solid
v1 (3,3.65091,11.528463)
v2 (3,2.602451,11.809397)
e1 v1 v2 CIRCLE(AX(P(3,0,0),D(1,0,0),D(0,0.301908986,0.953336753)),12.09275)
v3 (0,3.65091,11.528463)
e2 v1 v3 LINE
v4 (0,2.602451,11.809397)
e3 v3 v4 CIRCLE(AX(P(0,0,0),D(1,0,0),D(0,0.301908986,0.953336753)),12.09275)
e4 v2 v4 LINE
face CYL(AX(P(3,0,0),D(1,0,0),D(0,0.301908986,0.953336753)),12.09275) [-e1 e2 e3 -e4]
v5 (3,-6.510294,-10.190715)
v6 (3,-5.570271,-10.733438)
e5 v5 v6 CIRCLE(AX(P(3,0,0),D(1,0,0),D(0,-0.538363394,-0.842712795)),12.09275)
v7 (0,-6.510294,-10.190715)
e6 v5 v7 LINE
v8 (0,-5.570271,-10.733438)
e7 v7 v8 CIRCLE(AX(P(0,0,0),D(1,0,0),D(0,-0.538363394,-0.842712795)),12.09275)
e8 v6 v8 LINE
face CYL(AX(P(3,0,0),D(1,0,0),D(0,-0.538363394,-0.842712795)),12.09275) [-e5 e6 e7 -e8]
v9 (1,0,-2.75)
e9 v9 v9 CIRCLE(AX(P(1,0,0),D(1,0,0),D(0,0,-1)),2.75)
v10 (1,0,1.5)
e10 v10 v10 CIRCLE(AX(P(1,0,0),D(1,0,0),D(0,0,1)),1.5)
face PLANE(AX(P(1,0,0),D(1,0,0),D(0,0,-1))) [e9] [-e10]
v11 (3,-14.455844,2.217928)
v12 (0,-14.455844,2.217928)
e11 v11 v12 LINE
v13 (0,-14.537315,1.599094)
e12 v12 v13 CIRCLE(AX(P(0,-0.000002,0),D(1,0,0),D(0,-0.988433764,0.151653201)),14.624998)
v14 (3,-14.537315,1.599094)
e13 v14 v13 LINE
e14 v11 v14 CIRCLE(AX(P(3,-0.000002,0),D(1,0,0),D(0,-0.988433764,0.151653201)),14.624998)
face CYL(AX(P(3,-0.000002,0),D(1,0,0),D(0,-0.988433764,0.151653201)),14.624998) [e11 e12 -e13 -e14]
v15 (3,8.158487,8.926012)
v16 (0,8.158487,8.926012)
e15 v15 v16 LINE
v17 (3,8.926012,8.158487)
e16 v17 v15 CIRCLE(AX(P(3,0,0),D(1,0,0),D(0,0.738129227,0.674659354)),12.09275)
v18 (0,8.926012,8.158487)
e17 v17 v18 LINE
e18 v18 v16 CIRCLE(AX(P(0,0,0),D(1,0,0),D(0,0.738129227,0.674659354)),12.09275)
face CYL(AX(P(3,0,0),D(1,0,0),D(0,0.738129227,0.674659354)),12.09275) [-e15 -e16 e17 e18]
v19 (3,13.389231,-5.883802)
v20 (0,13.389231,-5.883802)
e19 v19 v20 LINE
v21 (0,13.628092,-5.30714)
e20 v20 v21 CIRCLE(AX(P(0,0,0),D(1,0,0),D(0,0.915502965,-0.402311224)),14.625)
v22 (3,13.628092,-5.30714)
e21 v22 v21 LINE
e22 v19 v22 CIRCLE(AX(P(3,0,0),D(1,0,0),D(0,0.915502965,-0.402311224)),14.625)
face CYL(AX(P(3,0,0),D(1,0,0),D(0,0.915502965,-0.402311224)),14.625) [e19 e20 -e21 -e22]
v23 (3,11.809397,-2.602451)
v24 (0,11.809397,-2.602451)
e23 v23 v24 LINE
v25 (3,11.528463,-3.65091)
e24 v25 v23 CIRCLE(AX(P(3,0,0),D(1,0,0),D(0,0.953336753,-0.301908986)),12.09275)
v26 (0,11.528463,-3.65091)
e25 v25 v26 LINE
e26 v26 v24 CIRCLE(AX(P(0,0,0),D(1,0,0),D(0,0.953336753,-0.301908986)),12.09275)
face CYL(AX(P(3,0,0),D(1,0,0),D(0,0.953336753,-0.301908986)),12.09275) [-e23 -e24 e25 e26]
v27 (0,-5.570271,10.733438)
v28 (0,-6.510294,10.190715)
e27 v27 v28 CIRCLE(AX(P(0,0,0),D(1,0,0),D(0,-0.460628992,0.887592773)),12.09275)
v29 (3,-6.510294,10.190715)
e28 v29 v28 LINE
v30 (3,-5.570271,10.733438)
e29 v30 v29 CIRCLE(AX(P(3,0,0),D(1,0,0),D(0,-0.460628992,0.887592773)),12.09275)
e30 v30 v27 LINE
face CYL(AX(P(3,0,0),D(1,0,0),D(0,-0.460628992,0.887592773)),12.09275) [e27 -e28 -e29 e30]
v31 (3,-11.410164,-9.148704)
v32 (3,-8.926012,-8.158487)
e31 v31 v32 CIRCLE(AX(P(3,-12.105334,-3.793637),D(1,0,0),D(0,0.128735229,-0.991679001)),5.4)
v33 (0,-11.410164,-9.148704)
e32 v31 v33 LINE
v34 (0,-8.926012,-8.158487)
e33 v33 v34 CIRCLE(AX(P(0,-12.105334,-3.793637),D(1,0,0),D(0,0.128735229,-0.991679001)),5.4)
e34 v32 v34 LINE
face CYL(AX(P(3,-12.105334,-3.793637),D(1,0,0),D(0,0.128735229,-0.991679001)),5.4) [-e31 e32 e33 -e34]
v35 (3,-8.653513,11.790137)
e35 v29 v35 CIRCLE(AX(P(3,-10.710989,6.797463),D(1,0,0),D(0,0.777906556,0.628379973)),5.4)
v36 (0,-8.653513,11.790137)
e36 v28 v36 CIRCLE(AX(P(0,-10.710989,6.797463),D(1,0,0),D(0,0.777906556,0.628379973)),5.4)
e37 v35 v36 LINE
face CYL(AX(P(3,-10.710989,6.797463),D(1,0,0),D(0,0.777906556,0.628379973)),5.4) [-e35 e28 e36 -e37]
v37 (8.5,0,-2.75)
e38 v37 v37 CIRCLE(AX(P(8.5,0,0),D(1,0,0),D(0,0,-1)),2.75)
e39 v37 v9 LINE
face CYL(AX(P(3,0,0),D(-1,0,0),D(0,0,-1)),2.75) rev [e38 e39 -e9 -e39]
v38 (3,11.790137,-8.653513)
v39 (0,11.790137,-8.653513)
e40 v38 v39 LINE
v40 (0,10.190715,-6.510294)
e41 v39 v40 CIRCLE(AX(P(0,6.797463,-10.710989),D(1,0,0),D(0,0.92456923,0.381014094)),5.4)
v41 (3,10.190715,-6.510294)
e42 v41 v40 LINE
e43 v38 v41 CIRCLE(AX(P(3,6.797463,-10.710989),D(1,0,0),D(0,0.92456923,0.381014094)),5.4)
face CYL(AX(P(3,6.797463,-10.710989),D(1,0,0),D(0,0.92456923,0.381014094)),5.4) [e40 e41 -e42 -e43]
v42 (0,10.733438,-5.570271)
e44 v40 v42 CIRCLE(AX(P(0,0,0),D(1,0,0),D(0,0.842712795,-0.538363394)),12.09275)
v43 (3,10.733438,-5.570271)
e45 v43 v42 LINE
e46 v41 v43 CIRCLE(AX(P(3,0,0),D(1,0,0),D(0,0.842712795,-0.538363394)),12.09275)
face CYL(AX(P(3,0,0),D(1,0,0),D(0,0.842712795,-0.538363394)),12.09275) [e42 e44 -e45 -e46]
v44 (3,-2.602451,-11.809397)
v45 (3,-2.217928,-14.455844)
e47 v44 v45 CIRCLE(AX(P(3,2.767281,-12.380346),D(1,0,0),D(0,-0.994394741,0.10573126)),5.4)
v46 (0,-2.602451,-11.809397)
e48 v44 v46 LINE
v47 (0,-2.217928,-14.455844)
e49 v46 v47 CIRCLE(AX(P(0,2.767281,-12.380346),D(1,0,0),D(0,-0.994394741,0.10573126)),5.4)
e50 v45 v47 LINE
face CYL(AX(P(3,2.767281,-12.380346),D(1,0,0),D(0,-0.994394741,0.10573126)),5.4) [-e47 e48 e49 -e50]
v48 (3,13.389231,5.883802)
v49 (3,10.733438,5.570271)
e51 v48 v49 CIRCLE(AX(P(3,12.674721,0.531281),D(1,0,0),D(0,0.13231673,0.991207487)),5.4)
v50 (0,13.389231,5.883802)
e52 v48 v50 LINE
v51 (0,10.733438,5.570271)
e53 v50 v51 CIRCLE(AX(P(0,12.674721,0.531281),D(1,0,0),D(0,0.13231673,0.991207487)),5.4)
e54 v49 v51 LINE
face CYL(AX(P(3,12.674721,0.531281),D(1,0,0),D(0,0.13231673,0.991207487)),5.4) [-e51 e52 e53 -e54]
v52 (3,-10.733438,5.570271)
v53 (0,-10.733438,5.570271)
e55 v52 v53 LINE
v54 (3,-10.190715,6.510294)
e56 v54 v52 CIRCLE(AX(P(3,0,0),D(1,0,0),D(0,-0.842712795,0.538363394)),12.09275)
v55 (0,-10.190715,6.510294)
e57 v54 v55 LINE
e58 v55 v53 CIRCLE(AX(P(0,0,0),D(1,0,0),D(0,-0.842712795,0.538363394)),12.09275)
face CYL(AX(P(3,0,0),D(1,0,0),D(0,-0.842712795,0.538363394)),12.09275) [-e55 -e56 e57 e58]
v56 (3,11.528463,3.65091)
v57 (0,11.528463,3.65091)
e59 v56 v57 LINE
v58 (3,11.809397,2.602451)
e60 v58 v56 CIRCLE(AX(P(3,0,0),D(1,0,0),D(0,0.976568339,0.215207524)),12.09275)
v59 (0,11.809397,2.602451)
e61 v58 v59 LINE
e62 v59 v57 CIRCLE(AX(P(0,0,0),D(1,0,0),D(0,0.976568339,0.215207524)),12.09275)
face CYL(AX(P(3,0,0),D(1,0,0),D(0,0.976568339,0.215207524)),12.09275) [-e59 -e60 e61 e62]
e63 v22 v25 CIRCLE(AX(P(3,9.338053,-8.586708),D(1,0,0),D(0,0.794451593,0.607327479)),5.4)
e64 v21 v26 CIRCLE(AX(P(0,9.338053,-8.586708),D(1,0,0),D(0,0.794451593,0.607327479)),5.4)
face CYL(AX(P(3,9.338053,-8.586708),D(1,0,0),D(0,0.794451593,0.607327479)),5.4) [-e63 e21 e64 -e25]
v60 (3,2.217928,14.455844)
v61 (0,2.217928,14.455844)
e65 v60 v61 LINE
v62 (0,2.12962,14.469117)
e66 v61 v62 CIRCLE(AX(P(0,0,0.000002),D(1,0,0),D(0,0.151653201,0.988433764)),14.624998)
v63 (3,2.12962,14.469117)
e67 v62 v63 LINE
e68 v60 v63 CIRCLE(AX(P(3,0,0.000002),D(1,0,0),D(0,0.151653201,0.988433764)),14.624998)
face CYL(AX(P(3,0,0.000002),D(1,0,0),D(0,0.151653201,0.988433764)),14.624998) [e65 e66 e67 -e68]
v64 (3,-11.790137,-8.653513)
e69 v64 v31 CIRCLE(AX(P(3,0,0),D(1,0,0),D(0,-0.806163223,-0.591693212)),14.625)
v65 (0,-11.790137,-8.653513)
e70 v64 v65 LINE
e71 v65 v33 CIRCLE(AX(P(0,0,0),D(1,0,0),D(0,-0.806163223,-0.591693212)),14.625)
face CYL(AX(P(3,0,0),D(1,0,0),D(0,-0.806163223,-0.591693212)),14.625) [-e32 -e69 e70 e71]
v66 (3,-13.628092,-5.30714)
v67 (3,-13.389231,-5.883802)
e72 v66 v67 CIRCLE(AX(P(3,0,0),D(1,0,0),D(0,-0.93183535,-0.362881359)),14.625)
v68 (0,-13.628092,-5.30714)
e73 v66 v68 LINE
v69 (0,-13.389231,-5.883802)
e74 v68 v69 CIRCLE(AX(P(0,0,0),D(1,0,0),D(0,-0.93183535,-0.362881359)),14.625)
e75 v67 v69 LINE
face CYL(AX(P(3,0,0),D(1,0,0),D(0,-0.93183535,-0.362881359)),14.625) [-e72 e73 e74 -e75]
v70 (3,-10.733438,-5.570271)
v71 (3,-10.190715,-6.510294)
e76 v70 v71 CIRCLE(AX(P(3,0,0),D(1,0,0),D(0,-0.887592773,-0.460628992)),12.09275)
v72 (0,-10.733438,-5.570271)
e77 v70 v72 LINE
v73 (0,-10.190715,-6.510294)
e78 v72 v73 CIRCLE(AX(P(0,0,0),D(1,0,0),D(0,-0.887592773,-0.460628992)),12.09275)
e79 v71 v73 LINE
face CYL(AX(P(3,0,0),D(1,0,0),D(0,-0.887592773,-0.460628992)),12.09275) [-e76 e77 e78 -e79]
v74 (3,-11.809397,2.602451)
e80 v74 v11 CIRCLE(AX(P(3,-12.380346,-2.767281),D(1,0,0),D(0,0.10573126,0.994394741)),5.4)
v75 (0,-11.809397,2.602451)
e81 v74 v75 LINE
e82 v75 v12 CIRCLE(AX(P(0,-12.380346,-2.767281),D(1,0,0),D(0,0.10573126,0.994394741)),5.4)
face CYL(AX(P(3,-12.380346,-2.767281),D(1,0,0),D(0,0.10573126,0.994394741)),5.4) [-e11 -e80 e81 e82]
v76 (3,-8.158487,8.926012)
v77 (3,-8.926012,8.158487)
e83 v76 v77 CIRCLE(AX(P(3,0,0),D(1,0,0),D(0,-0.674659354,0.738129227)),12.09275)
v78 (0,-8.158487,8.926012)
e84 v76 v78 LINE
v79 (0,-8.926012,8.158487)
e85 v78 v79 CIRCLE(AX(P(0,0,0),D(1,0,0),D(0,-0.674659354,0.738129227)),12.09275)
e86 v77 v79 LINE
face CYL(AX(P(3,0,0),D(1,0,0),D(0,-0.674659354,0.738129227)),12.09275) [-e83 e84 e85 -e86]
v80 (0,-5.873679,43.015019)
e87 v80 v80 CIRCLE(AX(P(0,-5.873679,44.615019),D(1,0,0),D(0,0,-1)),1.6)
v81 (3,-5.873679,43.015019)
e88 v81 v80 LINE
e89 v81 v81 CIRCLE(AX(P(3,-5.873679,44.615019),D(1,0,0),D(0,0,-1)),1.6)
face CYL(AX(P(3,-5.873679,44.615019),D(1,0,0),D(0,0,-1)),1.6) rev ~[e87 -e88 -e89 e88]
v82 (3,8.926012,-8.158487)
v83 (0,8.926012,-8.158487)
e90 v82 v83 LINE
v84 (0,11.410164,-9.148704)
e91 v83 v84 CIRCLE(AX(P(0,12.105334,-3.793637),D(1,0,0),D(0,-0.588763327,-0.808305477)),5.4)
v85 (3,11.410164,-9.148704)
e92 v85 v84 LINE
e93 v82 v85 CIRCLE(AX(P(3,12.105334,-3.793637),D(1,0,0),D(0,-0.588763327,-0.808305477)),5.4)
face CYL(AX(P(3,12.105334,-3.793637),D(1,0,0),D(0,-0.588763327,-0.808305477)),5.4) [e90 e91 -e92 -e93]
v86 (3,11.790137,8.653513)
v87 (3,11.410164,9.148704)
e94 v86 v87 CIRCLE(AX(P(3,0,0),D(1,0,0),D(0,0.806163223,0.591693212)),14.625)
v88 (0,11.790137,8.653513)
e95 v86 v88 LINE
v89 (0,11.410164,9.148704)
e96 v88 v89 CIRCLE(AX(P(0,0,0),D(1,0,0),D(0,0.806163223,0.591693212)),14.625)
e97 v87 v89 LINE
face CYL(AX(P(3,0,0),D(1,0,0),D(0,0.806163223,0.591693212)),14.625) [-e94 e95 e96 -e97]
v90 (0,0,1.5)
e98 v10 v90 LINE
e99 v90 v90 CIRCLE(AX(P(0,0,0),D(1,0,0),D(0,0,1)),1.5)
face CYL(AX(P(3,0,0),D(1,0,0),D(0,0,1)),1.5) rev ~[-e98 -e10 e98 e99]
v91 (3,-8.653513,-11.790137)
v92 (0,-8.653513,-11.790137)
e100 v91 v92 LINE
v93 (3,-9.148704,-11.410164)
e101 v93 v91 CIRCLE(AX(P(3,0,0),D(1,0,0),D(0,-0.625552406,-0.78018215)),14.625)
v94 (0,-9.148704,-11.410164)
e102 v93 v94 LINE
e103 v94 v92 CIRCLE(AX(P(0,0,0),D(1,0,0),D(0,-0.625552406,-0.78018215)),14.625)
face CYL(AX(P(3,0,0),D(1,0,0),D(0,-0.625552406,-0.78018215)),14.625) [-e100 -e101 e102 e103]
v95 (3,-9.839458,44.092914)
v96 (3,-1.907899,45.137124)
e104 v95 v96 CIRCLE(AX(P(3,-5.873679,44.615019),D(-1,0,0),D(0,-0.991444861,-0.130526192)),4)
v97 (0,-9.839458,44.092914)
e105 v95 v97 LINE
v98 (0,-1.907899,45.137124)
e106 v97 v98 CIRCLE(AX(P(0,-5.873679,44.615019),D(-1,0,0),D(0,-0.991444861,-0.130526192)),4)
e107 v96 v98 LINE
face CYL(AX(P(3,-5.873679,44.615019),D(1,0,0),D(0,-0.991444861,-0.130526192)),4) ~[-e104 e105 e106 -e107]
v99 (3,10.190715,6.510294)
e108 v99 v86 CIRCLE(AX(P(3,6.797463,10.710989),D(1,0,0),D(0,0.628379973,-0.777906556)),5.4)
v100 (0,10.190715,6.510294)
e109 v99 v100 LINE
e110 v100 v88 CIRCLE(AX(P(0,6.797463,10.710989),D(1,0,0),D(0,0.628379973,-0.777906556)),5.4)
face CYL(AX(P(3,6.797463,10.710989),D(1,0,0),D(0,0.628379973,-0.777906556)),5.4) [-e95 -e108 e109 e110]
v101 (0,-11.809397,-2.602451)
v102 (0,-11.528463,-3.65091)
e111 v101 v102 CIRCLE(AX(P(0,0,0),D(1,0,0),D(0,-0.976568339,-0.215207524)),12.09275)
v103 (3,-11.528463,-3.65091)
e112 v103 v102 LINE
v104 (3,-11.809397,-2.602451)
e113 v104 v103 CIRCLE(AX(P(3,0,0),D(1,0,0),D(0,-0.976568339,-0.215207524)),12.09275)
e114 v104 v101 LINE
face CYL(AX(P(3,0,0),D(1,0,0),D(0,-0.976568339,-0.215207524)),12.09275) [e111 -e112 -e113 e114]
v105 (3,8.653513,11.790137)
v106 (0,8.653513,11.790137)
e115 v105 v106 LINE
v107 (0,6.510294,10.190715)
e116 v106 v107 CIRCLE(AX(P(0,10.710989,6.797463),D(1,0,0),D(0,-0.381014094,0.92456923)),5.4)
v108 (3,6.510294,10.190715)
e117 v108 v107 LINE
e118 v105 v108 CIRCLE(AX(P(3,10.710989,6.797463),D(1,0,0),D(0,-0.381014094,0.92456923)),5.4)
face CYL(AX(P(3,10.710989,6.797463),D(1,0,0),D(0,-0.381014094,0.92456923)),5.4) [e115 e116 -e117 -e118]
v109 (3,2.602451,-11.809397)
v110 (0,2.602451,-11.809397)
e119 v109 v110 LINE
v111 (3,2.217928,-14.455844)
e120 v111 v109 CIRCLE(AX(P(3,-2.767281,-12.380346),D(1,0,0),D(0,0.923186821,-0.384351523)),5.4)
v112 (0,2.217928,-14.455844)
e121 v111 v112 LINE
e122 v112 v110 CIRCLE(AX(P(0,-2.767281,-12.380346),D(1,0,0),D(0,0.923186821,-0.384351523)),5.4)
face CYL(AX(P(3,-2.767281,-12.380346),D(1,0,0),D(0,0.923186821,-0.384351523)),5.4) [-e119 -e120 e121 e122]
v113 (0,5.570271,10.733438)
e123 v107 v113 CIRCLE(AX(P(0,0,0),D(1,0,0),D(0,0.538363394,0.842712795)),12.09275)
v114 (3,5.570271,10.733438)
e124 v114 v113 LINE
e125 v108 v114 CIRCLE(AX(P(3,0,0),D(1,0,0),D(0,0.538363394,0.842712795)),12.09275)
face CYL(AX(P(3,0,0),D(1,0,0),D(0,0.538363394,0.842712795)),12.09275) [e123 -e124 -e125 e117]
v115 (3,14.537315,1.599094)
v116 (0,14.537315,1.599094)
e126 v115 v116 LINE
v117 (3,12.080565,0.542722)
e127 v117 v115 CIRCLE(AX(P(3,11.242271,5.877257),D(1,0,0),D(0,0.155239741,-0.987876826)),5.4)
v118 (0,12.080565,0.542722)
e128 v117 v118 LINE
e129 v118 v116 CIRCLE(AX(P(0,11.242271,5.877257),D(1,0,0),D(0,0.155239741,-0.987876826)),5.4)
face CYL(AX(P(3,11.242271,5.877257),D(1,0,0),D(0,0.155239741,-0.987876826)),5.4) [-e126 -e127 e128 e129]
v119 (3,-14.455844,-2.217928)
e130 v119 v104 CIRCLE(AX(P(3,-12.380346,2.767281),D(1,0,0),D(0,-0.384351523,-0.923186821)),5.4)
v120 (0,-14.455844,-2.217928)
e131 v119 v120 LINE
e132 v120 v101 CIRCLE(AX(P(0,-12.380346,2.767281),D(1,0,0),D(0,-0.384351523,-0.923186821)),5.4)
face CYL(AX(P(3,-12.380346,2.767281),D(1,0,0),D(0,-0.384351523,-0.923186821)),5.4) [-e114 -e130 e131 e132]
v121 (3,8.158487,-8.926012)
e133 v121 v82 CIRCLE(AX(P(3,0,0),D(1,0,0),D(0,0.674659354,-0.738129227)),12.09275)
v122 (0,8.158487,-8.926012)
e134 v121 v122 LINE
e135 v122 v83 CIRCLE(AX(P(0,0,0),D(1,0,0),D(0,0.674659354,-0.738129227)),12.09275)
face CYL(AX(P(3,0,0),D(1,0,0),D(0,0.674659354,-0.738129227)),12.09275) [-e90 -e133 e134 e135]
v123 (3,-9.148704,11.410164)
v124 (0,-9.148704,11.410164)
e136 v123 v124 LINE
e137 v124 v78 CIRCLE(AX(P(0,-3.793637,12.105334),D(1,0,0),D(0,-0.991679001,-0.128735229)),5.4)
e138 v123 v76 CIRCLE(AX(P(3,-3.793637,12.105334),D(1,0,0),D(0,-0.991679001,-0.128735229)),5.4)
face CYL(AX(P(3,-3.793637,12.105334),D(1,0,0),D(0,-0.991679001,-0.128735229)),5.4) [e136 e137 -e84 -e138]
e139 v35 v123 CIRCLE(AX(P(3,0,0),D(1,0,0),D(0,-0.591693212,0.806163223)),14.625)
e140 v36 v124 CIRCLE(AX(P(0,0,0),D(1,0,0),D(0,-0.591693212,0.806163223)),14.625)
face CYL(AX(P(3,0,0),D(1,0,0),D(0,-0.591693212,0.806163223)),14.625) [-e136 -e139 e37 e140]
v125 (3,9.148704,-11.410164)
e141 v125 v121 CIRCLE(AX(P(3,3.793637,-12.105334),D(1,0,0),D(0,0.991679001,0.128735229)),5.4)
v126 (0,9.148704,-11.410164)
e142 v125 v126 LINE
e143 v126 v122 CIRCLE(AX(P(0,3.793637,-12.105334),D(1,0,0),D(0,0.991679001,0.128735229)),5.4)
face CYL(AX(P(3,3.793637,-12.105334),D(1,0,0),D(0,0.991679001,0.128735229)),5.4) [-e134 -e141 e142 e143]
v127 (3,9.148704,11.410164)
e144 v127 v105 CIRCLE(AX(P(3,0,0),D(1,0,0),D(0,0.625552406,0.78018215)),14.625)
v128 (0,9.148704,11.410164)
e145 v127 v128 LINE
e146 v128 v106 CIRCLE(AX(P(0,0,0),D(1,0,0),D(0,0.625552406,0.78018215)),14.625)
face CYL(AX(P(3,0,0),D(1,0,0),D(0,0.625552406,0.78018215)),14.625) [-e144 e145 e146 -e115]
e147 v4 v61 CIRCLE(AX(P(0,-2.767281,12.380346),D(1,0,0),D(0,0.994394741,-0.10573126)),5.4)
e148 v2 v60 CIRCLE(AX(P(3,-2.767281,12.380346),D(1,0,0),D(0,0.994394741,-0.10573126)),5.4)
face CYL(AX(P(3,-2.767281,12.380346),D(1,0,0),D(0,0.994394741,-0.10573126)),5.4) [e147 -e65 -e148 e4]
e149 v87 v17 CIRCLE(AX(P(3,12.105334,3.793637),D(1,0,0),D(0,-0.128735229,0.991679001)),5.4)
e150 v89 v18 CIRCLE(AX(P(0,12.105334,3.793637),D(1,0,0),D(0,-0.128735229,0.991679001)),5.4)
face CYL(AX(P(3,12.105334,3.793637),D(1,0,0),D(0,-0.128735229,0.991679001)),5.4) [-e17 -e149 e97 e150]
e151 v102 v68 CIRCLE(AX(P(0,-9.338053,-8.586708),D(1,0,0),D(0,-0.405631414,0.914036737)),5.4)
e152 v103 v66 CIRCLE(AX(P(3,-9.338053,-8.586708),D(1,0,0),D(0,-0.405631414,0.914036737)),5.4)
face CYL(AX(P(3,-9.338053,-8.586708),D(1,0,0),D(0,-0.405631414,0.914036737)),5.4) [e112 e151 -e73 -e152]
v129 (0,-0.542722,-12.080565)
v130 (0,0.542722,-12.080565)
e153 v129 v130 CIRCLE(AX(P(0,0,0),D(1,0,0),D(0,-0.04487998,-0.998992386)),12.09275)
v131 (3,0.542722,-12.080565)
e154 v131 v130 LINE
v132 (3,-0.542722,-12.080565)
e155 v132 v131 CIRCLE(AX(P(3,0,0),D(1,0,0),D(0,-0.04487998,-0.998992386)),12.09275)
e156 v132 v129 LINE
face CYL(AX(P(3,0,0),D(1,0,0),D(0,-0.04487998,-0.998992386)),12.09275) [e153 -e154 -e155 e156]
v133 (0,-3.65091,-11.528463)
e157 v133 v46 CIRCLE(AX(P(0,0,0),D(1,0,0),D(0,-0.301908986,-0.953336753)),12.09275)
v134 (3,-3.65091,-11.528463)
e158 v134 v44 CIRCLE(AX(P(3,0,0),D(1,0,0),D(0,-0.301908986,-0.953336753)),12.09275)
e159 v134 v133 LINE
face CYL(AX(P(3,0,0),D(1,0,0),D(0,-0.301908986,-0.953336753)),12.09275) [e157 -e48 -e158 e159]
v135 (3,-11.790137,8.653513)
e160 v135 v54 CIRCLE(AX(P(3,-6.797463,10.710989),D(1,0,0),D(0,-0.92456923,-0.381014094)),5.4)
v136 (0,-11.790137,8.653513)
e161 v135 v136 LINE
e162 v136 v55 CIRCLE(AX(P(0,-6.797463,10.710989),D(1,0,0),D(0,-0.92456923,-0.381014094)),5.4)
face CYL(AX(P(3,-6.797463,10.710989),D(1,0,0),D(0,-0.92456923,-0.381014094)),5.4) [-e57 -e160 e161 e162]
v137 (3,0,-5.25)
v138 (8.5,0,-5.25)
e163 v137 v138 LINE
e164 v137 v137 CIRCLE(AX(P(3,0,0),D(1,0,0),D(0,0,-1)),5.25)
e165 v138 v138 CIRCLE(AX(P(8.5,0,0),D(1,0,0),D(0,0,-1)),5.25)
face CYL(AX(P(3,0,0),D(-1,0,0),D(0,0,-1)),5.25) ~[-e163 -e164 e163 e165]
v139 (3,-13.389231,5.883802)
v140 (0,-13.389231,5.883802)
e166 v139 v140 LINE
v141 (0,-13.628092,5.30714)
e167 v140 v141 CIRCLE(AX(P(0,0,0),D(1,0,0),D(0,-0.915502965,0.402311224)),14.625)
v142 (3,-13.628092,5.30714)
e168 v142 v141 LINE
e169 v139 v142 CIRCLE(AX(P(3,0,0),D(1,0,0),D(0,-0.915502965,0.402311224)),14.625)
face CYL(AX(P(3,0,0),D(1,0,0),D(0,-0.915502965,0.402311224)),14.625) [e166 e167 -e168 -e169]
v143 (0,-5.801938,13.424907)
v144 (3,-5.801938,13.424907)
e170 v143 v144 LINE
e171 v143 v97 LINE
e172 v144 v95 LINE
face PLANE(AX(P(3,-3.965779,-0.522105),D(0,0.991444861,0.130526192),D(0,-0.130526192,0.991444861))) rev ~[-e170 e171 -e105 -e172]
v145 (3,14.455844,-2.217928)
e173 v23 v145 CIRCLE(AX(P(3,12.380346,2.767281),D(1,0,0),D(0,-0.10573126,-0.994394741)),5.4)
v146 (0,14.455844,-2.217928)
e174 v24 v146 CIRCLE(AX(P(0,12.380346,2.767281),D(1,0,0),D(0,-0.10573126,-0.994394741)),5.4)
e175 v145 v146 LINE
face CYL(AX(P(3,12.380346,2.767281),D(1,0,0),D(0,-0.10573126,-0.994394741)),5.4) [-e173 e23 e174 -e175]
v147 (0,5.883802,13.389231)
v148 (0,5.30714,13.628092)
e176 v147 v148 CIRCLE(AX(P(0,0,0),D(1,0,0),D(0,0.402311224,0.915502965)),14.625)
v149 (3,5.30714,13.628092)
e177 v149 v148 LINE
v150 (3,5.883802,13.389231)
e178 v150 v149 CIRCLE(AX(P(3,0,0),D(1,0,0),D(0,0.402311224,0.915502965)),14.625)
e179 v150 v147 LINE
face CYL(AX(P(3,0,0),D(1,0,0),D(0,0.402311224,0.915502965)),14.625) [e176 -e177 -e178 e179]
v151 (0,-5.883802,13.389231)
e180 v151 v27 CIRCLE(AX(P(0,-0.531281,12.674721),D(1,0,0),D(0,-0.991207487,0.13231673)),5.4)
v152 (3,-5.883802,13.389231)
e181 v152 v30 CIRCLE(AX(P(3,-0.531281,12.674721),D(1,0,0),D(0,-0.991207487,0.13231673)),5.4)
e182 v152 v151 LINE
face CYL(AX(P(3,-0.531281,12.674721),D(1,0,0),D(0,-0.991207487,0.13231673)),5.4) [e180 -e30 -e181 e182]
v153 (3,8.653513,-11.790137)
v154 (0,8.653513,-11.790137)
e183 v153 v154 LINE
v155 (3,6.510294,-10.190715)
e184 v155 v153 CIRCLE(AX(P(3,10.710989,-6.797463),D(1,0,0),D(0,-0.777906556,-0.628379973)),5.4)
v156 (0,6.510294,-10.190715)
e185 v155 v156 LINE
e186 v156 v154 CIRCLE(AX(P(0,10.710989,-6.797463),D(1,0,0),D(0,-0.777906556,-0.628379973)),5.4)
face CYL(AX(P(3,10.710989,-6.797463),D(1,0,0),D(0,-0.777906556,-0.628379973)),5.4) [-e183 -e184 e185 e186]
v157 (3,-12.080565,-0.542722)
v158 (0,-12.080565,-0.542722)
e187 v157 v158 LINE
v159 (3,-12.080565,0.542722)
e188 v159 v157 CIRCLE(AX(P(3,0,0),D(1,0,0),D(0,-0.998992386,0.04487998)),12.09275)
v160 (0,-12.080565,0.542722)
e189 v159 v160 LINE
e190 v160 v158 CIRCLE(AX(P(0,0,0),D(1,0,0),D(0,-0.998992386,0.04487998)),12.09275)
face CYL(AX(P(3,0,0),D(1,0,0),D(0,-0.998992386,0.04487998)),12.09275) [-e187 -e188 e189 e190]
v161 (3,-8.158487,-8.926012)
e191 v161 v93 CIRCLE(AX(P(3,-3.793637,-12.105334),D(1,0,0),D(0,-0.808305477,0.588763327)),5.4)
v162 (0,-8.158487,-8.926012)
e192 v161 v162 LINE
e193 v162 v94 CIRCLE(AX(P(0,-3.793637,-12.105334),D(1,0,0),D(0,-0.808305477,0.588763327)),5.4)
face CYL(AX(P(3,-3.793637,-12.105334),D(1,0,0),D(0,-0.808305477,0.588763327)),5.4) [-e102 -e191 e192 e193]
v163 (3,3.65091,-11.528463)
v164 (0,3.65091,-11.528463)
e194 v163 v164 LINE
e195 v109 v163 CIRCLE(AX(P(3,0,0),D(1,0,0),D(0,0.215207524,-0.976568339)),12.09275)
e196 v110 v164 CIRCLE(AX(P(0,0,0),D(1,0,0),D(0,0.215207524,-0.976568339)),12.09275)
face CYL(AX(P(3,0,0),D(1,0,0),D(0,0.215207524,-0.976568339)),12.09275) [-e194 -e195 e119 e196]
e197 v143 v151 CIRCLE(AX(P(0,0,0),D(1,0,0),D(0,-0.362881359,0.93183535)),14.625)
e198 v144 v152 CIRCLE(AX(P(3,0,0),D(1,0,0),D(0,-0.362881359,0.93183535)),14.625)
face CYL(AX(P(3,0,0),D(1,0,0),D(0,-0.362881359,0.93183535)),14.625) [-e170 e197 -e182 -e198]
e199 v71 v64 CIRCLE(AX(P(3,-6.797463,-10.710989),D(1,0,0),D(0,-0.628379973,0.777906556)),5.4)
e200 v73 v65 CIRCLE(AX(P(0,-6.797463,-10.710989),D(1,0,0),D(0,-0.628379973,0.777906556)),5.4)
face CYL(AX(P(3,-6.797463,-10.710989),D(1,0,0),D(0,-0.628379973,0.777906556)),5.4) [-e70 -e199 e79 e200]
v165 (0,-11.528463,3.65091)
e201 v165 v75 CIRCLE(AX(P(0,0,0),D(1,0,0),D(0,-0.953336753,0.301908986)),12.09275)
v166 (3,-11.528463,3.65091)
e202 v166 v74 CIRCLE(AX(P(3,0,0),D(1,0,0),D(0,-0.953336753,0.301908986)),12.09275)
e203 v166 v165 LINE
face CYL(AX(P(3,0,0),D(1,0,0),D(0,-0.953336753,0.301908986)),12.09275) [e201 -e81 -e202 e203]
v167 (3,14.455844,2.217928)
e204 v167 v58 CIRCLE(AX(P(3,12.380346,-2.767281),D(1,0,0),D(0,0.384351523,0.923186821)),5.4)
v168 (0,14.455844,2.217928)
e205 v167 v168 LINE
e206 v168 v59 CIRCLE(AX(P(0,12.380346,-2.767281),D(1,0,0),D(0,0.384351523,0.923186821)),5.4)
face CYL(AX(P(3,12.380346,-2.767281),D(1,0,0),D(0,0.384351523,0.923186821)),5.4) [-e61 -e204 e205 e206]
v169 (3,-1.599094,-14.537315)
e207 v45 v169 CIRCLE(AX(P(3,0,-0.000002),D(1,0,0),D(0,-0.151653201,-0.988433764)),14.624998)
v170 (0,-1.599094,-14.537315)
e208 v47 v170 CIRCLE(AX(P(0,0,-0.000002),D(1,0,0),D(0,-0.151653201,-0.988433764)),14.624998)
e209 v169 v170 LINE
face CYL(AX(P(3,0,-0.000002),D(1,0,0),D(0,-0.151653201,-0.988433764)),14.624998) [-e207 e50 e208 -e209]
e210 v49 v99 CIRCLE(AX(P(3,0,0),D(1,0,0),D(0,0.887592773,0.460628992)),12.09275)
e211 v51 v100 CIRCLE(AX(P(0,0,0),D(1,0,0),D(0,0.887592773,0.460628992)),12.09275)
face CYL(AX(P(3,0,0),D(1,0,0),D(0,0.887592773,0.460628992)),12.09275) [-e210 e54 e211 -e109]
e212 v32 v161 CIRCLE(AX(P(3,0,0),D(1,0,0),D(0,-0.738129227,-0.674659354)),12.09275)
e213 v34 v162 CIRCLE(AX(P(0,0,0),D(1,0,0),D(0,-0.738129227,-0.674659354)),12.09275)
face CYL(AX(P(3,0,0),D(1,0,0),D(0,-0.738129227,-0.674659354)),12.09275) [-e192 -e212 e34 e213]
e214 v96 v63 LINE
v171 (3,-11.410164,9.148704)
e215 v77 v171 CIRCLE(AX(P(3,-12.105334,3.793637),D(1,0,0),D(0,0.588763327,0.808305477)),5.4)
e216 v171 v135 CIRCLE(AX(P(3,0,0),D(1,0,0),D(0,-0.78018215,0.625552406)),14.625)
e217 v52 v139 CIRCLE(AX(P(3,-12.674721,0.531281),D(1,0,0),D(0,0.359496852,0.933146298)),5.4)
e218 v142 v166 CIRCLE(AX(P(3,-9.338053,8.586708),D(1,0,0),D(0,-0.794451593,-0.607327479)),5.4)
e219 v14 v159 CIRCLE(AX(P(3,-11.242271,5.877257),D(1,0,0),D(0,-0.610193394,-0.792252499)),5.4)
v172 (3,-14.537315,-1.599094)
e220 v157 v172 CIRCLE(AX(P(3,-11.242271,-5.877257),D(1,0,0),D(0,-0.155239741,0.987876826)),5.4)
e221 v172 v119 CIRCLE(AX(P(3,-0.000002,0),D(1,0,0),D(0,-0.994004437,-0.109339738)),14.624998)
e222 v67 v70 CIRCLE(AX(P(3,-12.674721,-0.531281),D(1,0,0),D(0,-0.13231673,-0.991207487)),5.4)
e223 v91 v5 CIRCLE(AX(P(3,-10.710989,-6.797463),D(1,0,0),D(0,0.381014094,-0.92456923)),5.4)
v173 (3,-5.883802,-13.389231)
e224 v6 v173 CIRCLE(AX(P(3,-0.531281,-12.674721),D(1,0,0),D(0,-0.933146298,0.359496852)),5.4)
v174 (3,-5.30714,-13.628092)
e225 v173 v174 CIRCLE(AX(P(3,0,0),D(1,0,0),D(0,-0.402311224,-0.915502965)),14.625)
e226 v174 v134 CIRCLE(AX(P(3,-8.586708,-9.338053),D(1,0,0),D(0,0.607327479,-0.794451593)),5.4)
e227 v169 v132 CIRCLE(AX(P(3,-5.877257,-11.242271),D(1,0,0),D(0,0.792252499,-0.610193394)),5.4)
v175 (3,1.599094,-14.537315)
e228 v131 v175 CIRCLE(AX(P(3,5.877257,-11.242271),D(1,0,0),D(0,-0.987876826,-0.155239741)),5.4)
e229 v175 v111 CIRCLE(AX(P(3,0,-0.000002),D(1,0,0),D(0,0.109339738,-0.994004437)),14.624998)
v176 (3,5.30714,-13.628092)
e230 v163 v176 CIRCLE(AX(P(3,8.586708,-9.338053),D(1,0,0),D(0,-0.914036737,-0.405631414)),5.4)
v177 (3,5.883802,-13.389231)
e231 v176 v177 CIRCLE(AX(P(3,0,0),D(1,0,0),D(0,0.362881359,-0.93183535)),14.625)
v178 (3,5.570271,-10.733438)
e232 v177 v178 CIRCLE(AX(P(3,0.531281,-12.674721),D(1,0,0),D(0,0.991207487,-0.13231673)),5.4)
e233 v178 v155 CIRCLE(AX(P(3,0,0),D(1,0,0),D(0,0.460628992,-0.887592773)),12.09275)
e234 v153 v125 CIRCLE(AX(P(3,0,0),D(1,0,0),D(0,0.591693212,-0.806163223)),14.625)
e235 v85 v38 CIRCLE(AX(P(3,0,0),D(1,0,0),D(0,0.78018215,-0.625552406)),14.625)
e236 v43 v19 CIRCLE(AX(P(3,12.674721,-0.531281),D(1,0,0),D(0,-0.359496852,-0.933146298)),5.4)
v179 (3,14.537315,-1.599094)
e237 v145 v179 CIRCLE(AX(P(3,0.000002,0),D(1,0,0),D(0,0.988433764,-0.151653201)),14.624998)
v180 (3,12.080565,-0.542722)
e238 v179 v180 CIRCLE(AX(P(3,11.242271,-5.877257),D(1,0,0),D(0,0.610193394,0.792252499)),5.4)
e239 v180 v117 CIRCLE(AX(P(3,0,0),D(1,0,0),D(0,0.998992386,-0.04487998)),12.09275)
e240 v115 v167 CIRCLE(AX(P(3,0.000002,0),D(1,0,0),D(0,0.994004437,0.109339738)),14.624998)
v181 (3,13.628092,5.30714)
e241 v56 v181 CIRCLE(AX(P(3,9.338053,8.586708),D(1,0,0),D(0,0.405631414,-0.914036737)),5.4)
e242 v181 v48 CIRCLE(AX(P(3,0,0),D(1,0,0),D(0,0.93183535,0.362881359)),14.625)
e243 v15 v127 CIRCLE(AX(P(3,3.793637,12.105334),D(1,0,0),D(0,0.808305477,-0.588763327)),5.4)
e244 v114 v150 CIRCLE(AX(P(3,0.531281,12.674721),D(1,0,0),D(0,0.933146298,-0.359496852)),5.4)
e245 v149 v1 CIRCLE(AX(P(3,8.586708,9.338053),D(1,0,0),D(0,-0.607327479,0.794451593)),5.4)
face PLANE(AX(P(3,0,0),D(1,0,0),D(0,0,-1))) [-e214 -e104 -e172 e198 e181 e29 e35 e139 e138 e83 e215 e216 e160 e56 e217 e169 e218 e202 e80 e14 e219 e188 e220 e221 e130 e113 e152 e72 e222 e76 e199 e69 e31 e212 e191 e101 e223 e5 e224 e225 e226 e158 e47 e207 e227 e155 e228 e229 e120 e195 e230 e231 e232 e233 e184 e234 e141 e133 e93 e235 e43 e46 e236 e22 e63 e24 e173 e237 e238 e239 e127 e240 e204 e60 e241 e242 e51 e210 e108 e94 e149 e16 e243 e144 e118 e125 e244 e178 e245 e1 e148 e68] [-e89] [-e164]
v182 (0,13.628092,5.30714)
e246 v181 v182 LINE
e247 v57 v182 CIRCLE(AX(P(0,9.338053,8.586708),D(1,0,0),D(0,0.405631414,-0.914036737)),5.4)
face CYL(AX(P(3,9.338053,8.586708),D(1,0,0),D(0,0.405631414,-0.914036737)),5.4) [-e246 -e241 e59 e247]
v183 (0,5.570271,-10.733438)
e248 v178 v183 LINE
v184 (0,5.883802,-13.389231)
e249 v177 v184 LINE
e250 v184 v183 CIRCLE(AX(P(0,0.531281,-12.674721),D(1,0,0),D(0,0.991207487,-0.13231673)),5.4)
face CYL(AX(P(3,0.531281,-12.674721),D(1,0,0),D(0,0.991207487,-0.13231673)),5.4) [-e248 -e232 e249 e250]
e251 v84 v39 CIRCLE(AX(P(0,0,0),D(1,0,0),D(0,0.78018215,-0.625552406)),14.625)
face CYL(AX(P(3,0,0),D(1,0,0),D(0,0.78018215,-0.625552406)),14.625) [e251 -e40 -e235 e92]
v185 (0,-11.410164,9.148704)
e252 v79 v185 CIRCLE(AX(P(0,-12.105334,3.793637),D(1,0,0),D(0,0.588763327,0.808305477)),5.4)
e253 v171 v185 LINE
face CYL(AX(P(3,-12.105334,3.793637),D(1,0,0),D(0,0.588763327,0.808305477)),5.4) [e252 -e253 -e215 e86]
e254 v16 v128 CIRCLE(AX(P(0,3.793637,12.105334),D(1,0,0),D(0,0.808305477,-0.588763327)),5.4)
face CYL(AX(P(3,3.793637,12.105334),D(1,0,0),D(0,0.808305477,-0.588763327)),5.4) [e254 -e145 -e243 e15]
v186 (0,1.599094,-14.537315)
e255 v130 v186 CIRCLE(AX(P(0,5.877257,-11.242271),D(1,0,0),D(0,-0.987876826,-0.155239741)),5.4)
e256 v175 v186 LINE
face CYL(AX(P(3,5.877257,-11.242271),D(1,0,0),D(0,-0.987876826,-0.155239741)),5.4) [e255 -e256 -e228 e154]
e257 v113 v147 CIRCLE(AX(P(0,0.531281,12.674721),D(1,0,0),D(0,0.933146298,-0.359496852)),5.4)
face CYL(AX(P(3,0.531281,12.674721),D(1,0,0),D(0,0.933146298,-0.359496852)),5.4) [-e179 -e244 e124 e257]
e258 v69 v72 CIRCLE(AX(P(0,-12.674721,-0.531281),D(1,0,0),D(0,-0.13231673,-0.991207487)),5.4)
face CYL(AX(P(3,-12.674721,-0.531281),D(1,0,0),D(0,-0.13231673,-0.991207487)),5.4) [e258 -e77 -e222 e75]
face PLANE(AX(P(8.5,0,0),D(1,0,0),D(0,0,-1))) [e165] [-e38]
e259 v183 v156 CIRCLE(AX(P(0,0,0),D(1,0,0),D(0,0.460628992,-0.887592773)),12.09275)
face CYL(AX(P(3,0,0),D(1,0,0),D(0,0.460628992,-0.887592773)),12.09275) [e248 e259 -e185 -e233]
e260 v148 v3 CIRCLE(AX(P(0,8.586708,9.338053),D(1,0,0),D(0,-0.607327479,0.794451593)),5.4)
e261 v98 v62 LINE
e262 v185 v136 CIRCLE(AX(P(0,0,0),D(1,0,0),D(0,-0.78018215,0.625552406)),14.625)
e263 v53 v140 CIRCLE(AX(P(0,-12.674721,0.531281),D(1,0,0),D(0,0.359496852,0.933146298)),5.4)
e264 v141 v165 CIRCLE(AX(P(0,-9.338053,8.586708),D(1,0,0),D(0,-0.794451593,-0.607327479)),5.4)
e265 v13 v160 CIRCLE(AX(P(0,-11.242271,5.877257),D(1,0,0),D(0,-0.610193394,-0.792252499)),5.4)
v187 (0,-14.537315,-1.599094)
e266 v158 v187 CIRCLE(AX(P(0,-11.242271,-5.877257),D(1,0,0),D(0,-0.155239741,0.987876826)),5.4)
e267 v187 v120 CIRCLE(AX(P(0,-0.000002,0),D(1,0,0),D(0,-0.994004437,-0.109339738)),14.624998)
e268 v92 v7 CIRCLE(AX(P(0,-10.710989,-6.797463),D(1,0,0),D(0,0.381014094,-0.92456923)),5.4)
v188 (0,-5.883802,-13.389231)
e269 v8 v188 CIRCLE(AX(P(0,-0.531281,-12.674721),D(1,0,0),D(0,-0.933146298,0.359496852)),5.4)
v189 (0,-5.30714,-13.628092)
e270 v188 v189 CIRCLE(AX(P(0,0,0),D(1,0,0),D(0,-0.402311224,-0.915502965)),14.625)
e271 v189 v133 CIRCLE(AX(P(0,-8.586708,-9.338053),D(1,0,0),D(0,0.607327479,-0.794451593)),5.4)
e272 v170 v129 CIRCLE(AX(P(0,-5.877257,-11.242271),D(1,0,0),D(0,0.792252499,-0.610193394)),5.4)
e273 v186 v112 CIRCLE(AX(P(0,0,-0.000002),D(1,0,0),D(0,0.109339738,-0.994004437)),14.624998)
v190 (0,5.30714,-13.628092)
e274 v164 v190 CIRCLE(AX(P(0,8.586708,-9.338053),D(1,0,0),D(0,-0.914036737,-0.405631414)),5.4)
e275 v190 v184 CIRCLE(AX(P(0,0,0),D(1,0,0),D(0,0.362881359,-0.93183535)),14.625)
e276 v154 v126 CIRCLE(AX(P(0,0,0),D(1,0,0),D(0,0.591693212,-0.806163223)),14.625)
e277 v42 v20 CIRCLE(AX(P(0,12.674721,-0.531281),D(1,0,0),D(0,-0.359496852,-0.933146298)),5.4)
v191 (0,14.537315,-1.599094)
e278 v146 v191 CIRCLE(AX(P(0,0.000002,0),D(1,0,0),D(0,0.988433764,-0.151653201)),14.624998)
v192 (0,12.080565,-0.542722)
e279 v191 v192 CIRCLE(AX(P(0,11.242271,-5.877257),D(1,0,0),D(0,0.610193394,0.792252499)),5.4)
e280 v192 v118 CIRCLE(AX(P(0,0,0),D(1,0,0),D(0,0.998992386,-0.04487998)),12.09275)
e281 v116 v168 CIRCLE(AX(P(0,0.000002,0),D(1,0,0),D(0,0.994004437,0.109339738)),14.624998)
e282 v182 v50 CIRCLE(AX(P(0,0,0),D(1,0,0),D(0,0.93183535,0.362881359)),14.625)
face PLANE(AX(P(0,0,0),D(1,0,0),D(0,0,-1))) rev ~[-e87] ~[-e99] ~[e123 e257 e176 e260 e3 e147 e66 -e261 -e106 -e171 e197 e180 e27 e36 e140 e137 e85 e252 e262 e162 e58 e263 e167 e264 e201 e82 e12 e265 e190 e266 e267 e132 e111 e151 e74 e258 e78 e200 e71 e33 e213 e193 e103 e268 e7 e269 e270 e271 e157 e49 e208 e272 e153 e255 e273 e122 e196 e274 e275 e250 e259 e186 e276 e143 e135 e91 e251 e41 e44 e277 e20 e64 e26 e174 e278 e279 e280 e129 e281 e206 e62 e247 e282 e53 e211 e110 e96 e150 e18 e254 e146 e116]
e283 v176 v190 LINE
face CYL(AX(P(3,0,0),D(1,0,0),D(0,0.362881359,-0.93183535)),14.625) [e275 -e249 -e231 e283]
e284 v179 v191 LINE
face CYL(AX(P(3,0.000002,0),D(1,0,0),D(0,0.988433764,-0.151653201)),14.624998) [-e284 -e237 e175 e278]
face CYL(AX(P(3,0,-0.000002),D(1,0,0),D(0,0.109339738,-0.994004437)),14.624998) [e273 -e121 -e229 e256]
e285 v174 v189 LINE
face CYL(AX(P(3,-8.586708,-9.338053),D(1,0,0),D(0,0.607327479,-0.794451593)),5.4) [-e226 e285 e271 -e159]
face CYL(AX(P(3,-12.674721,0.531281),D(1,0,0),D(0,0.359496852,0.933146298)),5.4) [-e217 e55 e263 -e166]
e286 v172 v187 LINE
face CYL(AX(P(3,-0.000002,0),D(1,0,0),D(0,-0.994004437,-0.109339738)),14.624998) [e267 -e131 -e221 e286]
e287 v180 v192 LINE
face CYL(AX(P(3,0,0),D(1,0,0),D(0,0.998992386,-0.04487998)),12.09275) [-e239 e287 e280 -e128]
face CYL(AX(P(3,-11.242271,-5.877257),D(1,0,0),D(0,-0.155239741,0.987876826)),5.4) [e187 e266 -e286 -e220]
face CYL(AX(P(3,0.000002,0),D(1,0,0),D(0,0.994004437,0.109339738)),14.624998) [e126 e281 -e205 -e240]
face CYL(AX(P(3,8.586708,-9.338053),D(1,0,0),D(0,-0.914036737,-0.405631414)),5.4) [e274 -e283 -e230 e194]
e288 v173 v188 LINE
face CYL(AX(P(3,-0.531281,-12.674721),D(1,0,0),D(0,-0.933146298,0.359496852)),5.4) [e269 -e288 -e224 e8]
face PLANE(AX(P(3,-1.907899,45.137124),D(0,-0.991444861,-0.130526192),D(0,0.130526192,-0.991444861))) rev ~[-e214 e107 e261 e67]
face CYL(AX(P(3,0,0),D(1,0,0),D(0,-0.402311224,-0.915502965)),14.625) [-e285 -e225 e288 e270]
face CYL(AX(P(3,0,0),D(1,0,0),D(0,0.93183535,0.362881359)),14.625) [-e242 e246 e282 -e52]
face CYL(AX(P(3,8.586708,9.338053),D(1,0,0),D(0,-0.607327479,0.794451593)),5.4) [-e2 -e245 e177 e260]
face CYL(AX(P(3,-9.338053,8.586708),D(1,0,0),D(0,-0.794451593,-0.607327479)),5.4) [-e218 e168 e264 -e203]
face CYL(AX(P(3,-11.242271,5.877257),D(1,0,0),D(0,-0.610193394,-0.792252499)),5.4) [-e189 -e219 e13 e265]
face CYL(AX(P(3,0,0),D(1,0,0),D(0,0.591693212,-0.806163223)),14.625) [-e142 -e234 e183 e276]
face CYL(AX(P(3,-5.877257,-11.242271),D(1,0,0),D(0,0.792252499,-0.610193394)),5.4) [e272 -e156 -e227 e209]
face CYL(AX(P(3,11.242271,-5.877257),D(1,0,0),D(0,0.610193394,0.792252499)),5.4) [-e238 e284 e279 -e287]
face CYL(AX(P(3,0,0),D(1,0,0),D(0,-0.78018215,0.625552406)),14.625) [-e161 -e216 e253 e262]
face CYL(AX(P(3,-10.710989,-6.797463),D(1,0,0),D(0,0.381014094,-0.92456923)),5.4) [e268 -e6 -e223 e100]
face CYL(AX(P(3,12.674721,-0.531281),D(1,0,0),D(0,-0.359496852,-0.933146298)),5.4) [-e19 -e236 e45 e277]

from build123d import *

# Parameters (mm, degrees)
SKETCH1_R           = 1.5
BOSS_EXTRUDE1_DEPTH = 3
SKETCH2_R           = 1.6
SKETCH2_R_2         = 1.5
BOSS_EXTRUDE2_DEPTH = 3
SKETCH3_R           = 5.25
SKETCH3_R_2         = 2.75
BOSS_EXTRUDE3_DEPTH = 5.5
CUT_EXTRUDE1_START  = -2
SKETCH4_R           = 2.75
CUT_EXTRUDE1_DEPTH  = 2


with BuildPart() as part:
    # Sketch1 → Boss-Extrude1 (new body)
    with BuildSketch(Plane(origin=(3, 0, 0), x_dir=(0, 0, -1), z_dir=(1, 0, 0))):
        with BuildLine():
            ThreePointArc((-14.537314892, 1.599093719), (-13.375367565, 0.916420874), (-12.080565177, 0.542722358))
            ThreePointArc((-12.080565177, 0.542722358), (-12.09275, 0), (-12.080565177, -0.542722358))
            ThreePointArc((-12.080565177, -0.542722358), (-13.375367565, -0.916420874), (-14.537314892, -1.599093719))
            ThreePointArc((-14.537314892, -1.599093719), (-14.499881098, -1.908945561), (-14.455843809, -2.217928037))
            ThreePointArc((-14.455843809, -2.217928037), (-13.156800143, -2.576605271), (-11.809396783, -2.602450802))
            ThreePointArc((-11.809396783, -2.602450802), (-11.680699536, -3.129834008), (-11.528463019, -3.650909885))
            ThreePointArc((-11.528463019, -3.650909885), (-12.682425791, -4.346994451), (-13.62809199, -5.30713988))
            ThreePointArc((-13.62809199, -5.30713988), (-13.511738163, -5.596745198), (-13.389230859, -5.883801663))
            ThreePointArc((-13.389230859, -5.883801663), (-12.041618533, -5.894040025), (-10.733437515, -5.57027124))
            ThreePointArc((-10.733437515, -5.57027124), (-10.472628702, -6.046375), (-10.190715157, -6.510293938))
            ThreePointArc((-10.190715157, -6.510293938), (-11.125197659, -7.48132754), (-11.79013714, -8.65351323))
            ThreePointArc((-11.79013714, -8.65351323), (-11.602792602, -8.903135899), (-11.410163953, -9.148703928))
            ThreePointArc((-11.410163953, -9.148703928), (-10.105820521, -8.809805691), (-8.926012217, -8.158486898))
            ThreePointArc((-8.926012217, -8.158486898), (-8.550865528, -8.550865528), (-8.158486898, -8.926012217))
            ThreePointArc((-8.158486898, -8.926012217), (-8.809805691, -10.105820521), (-9.148703928, -11.410163953))
            ThreePointArc((-9.148703928, -11.410163953), (-8.903135899, -11.602792602), (-8.65351323, -11.79013714))
            ThreePointArc((-8.65351323, -11.79013714), (-7.48132754, -11.125197659), (-6.510293938, -10.190715157))
            ThreePointArc((-6.510293938, -10.190715157), (-6.046375, -10.472628702), (-5.57027124, -10.733437515))
            ThreePointArc((-5.57027124, -10.733437515), (-5.894040025, -12.041618533), (-5.883801663, -13.389230859))
            ThreePointArc((-5.883801663, -13.389230859), (-5.596745198, -13.511738163), (-5.30713988, -13.62809199))
            ThreePointArc((-5.30713988, -13.62809199), (-4.346994451, -12.682425791), (-3.650909885, -11.528463019))
            ThreePointArc((-3.650909885, -11.528463019), (-3.129834008, -11.680699536), (-2.602450802, -11.809396783))
            ThreePointArc((-2.602450802, -11.809396783), (-2.576605271, -13.156800143), (-2.217928037, -14.455843809))
            ThreePointArc((-2.217928037, -14.455843809), (-1.908945561, -14.499881098), (-1.599093719, -14.537314892))
            ThreePointArc((-1.599093719, -14.537314892), (-0.916420874, -13.375367565), (-0.542722358, -12.080565177))
            ThreePointArc((-0.542722358, -12.080565177), (0, -12.09275), (0.542722358, -12.080565177))
            ThreePointArc((0.542722358, -12.080565177), (0.916420874, -13.375367565), (1.599093719, -14.537314892))
            ThreePointArc((1.599093719, -14.537314892), (1.908945561, -14.499881098), (2.217928037, -14.455843809))
            ThreePointArc((2.217928037, -14.455843809), (2.576605271, -13.156800143), (2.602450802, -11.809396783))
            ThreePointArc((2.602450802, -11.809396783), (3.129834008, -11.680699536), (3.650909885, -11.528463019))
            ThreePointArc((3.650909885, -11.528463019), (4.346994451, -12.682425791), (5.30713988, -13.62809199))
            ThreePointArc((5.30713988, -13.62809199), (5.596745198, -13.511738163), (5.883801663, -13.389230859))
            ThreePointArc((5.883801663, -13.389230859), (5.894040025, -12.041618533), (5.57027124, -10.733437515))
            ThreePointArc((5.57027124, -10.733437515), (6.046375, -10.472628702), (6.510293938, -10.190715157))
            ThreePointArc((6.510293938, -10.190715157), (7.48132754, -11.125197659), (8.65351323, -11.79013714))
            ThreePointArc((8.65351323, -11.79013714), (8.903135899, -11.602792602), (9.148703928, -11.410163953))
            ThreePointArc((9.148703928, -11.410163953), (8.809805691, -10.105820521), (8.158486898, -8.926012217))
            ThreePointArc((8.158486898, -8.926012217), (8.550865528, -8.550865528), (8.926012217, -8.158486898))
            ThreePointArc((8.926012217, -8.158486898), (10.105820521, -8.809805691), (11.410163953, -9.148703928))
            ThreePointArc((11.410163953, -9.148703928), (11.602792602, -8.903135899), (11.79013714, -8.65351323))
            ThreePointArc((11.79013714, -8.65351323), (11.125197659, -7.48132754), (10.190715157, -6.510293938))
            ThreePointArc((10.190715157, -6.510293938), (10.472628702, -6.046375), (10.733437515, -5.57027124))
            ThreePointArc((10.733437515, -5.57027124), (12.041618533, -5.894040025), (13.389230859, -5.883801663))
            ThreePointArc((13.389230859, -5.883801663), (13.511738163, -5.596745198), (13.62809199, -5.30713988))
            ThreePointArc((13.62809199, -5.30713988), (12.682425791, -4.346994451), (11.528463019, -3.650909885))
            ThreePointArc((11.528463019, -3.650909885), (11.680699536, -3.129834008), (11.809396783, -2.602450802))
            ThreePointArc((11.809396783, -2.602450802), (13.156800143, -2.576605271), (14.455843809, -2.217928037))
            ThreePointArc((14.455843809, -2.217928037), (14.499881098, -1.908945561), (14.537314892, -1.599093719))
            ThreePointArc((14.537314892, -1.599093719), (13.375367565, -0.916420874), (12.080565177, -0.542722358))
            ThreePointArc((12.080565177, -0.542722358), (12.09275, 0), (12.080565177, 0.542722358))
            ThreePointArc((12.080565177, 0.542722358), (13.375367565, 0.916420874), (14.537314892, 1.599093719))
            ThreePointArc((14.537314892, 1.599093719), (14.499881098, 1.908945561), (14.455843809, 2.217928037))
            ThreePointArc((14.455843809, 2.217928037), (13.156800143, 2.576605271), (11.809396783, 2.602450802))
            ThreePointArc((11.809396783, 2.602450802), (11.680699536, 3.129834008), (11.528463019, 3.650909885))
            ThreePointArc((11.528463019, 3.650909885), (12.682425791, 4.346994451), (13.62809199, 5.30713988))
            ThreePointArc((13.62809199, 5.30713988), (13.511738163, 5.596745198), (13.389230859, 5.883801663))
            ThreePointArc((13.389230859, 5.883801663), (12.041618533, 5.894040025), (10.733437515, 5.57027124))
            ThreePointArc((10.733437515, 5.57027124), (10.472628702, 6.046375), (10.190715157, 6.510293938))
            ThreePointArc((10.190715157, 6.510293938), (11.125197659, 7.48132754), (11.79013714, 8.65351323))
            ThreePointArc((11.79013714, 8.65351323), (11.602792602, 8.903135899), (11.410163953, 9.148703928))
            ThreePointArc((11.410163953, 9.148703928), (10.105820521, 8.809805691), (8.926012217, 8.158486898))
            ThreePointArc((8.926012217, 8.158486898), (8.550865528, 8.550865528), (8.158486898, 8.926012217))
            ThreePointArc((8.158486898, 8.926012217), (8.809805691, 10.105820521), (9.148703928, 11.410163953))
            ThreePointArc((9.148703928, 11.410163953), (8.903135899, 11.602792602), (8.65351323, 11.79013714))
            ThreePointArc((8.65351323, 11.79013714), (7.48132754, 11.125197659), (6.510293938, 10.190715157))
            ThreePointArc((6.510293938, 10.190715157), (6.046375, 10.472628702), (5.57027124, 10.733437515))
            ThreePointArc((5.57027124, 10.733437515), (5.894040025, 12.041618533), (5.883801663, 13.389230859))
            ThreePointArc((5.883801663, 13.389230859), (5.596745198, 13.511738163), (5.30713988, 13.62809199))
            ThreePointArc((5.30713988, 13.62809199), (4.346994451, 12.682425791), (3.650909885, 11.528463019))
            ThreePointArc((3.650909885, 11.528463019), (3.129834008, 11.680699536), (2.602450802, 11.809396783))
            ThreePointArc((2.602450802, 11.809396783), (2.576605271, 13.156800143), (2.217928037, 14.455843809))
            ThreePointArc((2.217928037, 14.455843809), (1.908945561, 14.499881098), (1.599093719, 14.537314892))
            ThreePointArc((1.599093719, 14.537314892), (0.916420874, 13.375367565), (0.542722358, 12.080565177))
            ThreePointArc((0.542722358, 12.080565177), (0, 12.09275), (-0.542722358, 12.080565177))
            ThreePointArc((-0.542722358, 12.080565177), (-0.916420874, 13.375367565), (-1.599093719, 14.537314892))
            ThreePointArc((-1.599093719, 14.537314892), (-1.908945561, 14.499881098), (-2.217928037, 14.455843809))
            ThreePointArc((-2.217928037, 14.455843809), (-2.576605271, 13.156800143), (-2.602450802, 11.809396783))
            ThreePointArc((-2.602450802, 11.809396783), (-3.129834008, 11.680699536), (-3.650909885, 11.528463019))
            ThreePointArc((-3.650909885, 11.528463019), (-4.346994451, 12.682425791), (-5.30713988, 13.62809199))
            ThreePointArc((-5.30713988, 13.62809199), (-5.596745198, 13.511738163), (-5.883801663, 13.389230859))
            ThreePointArc((-5.883801663, 13.389230859), (-5.894040025, 12.041618533), (-5.57027124, 10.733437515))
            ThreePointArc((-5.57027124, 10.733437515), (-6.046375, 10.472628702), (-6.510293938, 10.190715157))
            ThreePointArc((-6.510293938, 10.190715157), (-7.48132754, 11.125197659), (-8.65351323, 11.79013714))
            ThreePointArc((-8.65351323, 11.79013714), (-8.903135899, 11.602792602), (-9.148703928, 11.410163953))
            ThreePointArc((-9.148703928, 11.410163953), (-8.809805691, 10.105820521), (-8.158486898, 8.926012217))
            ThreePointArc((-8.158486898, 8.926012217), (-8.550865528, 8.550865528), (-8.926012217, 8.158486898))
            ThreePointArc((-8.926012217, 8.158486898), (-10.105820521, 8.809805691), (-11.410163953, 9.148703928))
            ThreePointArc((-11.410163953, 9.148703928), (-11.602792602, 8.903135899), (-11.79013714, 8.65351323))
            ThreePointArc((-11.79013714, 8.65351323), (-11.125197659, 7.48132754), (-10.190715157, 6.510293938))
            ThreePointArc((-10.190715157, 6.510293938), (-10.472628702, 6.046375), (-10.733437515, 5.57027124))
            ThreePointArc((-10.733437515, 5.57027124), (-12.041618533, 5.894040025), (-13.389230859, 5.883801663))
            ThreePointArc((-13.389230859, 5.883801663), (-13.511738163, 5.596745198), (-13.62809199, 5.30713988))
            ThreePointArc((-13.62809199, 5.30713988), (-12.682425791, 4.346994451), (-11.528463019, 3.650909885))
            ThreePointArc((-11.528463019, 3.650909885), (-11.680699536, 3.129834008), (-11.809396783, 2.602450802))
            ThreePointArc((-11.809396783, 2.602450802), (-13.156800143, 2.576605271), (-14.455843809, 2.217928037))
            ThreePointArc((-14.455843809, 2.217928037), (-14.499881098, 1.908945561), (-14.537314892, 1.599093719))
        make_face()
        with Locations(Location((0, 0, 0), (0, 0, 180))):
            Circle(SKETCH1_R, mode=Mode.SUBTRACT)
    extrude(amount=-BOSS_EXTRUDE1_DEPTH)

    # Sketch2 → Boss-Extrude2 (add)
    with BuildSketch(Plane(origin=(3, 0, 0), x_dir=(0, 0, -1), z_dir=(1, 0, 0))):
        with BuildLine():
            Line((0.522104769, -3.965779445), (-44.092913993, -9.839458095))
            ThreePointArc((-44.092913993, -9.839458095), (-48.580798207, -6.395783419), (-45.137123531, -1.907899204))
            Line((-45.137123531, -1.907899204), (-0.522104769, 3.965779445))
            ThreePointArc((-0.522104769, 3.965779445), (3.965779445, 0.522104769), (0.522104769, -3.965779445))
        make_face()
        with Locations((-44.615018762, -5.87367865)):
            Circle(SKETCH2_R, mode=Mode.SUBTRACT)
        with Locations(Location((0, 0, 0), (0, 0, 180))):
            Circle(SKETCH2_R_2, mode=Mode.SUBTRACT)
    extrude(amount=-BOSS_EXTRUDE2_DEPTH)

    # Sketch3 → Boss-Extrude3 (add)
    with BuildSketch(Plane(origin=(3, 0, 0), x_dir=(0, 0, -1), z_dir=(1, 0, 0))):
        Circle(SKETCH3_R)
        Circle(SKETCH3_R_2, mode=Mode.SUBTRACT)
    extrude(amount=BOSS_EXTRUDE3_DEPTH)

    # Sketch4 → Cut-Extrude1 (cut)
    with BuildSketch(Plane(origin=(3, 0, 0), x_dir=(0, 0, -1), z_dir=(1, 0, 0)).offset(CUT_EXTRUDE1_START)):
        Circle(SKETCH4_R)
    extrude(amount=CUT_EXTRUDE1_DEPTH, mode=Mode.SUBTRACT)


solid = part.part
